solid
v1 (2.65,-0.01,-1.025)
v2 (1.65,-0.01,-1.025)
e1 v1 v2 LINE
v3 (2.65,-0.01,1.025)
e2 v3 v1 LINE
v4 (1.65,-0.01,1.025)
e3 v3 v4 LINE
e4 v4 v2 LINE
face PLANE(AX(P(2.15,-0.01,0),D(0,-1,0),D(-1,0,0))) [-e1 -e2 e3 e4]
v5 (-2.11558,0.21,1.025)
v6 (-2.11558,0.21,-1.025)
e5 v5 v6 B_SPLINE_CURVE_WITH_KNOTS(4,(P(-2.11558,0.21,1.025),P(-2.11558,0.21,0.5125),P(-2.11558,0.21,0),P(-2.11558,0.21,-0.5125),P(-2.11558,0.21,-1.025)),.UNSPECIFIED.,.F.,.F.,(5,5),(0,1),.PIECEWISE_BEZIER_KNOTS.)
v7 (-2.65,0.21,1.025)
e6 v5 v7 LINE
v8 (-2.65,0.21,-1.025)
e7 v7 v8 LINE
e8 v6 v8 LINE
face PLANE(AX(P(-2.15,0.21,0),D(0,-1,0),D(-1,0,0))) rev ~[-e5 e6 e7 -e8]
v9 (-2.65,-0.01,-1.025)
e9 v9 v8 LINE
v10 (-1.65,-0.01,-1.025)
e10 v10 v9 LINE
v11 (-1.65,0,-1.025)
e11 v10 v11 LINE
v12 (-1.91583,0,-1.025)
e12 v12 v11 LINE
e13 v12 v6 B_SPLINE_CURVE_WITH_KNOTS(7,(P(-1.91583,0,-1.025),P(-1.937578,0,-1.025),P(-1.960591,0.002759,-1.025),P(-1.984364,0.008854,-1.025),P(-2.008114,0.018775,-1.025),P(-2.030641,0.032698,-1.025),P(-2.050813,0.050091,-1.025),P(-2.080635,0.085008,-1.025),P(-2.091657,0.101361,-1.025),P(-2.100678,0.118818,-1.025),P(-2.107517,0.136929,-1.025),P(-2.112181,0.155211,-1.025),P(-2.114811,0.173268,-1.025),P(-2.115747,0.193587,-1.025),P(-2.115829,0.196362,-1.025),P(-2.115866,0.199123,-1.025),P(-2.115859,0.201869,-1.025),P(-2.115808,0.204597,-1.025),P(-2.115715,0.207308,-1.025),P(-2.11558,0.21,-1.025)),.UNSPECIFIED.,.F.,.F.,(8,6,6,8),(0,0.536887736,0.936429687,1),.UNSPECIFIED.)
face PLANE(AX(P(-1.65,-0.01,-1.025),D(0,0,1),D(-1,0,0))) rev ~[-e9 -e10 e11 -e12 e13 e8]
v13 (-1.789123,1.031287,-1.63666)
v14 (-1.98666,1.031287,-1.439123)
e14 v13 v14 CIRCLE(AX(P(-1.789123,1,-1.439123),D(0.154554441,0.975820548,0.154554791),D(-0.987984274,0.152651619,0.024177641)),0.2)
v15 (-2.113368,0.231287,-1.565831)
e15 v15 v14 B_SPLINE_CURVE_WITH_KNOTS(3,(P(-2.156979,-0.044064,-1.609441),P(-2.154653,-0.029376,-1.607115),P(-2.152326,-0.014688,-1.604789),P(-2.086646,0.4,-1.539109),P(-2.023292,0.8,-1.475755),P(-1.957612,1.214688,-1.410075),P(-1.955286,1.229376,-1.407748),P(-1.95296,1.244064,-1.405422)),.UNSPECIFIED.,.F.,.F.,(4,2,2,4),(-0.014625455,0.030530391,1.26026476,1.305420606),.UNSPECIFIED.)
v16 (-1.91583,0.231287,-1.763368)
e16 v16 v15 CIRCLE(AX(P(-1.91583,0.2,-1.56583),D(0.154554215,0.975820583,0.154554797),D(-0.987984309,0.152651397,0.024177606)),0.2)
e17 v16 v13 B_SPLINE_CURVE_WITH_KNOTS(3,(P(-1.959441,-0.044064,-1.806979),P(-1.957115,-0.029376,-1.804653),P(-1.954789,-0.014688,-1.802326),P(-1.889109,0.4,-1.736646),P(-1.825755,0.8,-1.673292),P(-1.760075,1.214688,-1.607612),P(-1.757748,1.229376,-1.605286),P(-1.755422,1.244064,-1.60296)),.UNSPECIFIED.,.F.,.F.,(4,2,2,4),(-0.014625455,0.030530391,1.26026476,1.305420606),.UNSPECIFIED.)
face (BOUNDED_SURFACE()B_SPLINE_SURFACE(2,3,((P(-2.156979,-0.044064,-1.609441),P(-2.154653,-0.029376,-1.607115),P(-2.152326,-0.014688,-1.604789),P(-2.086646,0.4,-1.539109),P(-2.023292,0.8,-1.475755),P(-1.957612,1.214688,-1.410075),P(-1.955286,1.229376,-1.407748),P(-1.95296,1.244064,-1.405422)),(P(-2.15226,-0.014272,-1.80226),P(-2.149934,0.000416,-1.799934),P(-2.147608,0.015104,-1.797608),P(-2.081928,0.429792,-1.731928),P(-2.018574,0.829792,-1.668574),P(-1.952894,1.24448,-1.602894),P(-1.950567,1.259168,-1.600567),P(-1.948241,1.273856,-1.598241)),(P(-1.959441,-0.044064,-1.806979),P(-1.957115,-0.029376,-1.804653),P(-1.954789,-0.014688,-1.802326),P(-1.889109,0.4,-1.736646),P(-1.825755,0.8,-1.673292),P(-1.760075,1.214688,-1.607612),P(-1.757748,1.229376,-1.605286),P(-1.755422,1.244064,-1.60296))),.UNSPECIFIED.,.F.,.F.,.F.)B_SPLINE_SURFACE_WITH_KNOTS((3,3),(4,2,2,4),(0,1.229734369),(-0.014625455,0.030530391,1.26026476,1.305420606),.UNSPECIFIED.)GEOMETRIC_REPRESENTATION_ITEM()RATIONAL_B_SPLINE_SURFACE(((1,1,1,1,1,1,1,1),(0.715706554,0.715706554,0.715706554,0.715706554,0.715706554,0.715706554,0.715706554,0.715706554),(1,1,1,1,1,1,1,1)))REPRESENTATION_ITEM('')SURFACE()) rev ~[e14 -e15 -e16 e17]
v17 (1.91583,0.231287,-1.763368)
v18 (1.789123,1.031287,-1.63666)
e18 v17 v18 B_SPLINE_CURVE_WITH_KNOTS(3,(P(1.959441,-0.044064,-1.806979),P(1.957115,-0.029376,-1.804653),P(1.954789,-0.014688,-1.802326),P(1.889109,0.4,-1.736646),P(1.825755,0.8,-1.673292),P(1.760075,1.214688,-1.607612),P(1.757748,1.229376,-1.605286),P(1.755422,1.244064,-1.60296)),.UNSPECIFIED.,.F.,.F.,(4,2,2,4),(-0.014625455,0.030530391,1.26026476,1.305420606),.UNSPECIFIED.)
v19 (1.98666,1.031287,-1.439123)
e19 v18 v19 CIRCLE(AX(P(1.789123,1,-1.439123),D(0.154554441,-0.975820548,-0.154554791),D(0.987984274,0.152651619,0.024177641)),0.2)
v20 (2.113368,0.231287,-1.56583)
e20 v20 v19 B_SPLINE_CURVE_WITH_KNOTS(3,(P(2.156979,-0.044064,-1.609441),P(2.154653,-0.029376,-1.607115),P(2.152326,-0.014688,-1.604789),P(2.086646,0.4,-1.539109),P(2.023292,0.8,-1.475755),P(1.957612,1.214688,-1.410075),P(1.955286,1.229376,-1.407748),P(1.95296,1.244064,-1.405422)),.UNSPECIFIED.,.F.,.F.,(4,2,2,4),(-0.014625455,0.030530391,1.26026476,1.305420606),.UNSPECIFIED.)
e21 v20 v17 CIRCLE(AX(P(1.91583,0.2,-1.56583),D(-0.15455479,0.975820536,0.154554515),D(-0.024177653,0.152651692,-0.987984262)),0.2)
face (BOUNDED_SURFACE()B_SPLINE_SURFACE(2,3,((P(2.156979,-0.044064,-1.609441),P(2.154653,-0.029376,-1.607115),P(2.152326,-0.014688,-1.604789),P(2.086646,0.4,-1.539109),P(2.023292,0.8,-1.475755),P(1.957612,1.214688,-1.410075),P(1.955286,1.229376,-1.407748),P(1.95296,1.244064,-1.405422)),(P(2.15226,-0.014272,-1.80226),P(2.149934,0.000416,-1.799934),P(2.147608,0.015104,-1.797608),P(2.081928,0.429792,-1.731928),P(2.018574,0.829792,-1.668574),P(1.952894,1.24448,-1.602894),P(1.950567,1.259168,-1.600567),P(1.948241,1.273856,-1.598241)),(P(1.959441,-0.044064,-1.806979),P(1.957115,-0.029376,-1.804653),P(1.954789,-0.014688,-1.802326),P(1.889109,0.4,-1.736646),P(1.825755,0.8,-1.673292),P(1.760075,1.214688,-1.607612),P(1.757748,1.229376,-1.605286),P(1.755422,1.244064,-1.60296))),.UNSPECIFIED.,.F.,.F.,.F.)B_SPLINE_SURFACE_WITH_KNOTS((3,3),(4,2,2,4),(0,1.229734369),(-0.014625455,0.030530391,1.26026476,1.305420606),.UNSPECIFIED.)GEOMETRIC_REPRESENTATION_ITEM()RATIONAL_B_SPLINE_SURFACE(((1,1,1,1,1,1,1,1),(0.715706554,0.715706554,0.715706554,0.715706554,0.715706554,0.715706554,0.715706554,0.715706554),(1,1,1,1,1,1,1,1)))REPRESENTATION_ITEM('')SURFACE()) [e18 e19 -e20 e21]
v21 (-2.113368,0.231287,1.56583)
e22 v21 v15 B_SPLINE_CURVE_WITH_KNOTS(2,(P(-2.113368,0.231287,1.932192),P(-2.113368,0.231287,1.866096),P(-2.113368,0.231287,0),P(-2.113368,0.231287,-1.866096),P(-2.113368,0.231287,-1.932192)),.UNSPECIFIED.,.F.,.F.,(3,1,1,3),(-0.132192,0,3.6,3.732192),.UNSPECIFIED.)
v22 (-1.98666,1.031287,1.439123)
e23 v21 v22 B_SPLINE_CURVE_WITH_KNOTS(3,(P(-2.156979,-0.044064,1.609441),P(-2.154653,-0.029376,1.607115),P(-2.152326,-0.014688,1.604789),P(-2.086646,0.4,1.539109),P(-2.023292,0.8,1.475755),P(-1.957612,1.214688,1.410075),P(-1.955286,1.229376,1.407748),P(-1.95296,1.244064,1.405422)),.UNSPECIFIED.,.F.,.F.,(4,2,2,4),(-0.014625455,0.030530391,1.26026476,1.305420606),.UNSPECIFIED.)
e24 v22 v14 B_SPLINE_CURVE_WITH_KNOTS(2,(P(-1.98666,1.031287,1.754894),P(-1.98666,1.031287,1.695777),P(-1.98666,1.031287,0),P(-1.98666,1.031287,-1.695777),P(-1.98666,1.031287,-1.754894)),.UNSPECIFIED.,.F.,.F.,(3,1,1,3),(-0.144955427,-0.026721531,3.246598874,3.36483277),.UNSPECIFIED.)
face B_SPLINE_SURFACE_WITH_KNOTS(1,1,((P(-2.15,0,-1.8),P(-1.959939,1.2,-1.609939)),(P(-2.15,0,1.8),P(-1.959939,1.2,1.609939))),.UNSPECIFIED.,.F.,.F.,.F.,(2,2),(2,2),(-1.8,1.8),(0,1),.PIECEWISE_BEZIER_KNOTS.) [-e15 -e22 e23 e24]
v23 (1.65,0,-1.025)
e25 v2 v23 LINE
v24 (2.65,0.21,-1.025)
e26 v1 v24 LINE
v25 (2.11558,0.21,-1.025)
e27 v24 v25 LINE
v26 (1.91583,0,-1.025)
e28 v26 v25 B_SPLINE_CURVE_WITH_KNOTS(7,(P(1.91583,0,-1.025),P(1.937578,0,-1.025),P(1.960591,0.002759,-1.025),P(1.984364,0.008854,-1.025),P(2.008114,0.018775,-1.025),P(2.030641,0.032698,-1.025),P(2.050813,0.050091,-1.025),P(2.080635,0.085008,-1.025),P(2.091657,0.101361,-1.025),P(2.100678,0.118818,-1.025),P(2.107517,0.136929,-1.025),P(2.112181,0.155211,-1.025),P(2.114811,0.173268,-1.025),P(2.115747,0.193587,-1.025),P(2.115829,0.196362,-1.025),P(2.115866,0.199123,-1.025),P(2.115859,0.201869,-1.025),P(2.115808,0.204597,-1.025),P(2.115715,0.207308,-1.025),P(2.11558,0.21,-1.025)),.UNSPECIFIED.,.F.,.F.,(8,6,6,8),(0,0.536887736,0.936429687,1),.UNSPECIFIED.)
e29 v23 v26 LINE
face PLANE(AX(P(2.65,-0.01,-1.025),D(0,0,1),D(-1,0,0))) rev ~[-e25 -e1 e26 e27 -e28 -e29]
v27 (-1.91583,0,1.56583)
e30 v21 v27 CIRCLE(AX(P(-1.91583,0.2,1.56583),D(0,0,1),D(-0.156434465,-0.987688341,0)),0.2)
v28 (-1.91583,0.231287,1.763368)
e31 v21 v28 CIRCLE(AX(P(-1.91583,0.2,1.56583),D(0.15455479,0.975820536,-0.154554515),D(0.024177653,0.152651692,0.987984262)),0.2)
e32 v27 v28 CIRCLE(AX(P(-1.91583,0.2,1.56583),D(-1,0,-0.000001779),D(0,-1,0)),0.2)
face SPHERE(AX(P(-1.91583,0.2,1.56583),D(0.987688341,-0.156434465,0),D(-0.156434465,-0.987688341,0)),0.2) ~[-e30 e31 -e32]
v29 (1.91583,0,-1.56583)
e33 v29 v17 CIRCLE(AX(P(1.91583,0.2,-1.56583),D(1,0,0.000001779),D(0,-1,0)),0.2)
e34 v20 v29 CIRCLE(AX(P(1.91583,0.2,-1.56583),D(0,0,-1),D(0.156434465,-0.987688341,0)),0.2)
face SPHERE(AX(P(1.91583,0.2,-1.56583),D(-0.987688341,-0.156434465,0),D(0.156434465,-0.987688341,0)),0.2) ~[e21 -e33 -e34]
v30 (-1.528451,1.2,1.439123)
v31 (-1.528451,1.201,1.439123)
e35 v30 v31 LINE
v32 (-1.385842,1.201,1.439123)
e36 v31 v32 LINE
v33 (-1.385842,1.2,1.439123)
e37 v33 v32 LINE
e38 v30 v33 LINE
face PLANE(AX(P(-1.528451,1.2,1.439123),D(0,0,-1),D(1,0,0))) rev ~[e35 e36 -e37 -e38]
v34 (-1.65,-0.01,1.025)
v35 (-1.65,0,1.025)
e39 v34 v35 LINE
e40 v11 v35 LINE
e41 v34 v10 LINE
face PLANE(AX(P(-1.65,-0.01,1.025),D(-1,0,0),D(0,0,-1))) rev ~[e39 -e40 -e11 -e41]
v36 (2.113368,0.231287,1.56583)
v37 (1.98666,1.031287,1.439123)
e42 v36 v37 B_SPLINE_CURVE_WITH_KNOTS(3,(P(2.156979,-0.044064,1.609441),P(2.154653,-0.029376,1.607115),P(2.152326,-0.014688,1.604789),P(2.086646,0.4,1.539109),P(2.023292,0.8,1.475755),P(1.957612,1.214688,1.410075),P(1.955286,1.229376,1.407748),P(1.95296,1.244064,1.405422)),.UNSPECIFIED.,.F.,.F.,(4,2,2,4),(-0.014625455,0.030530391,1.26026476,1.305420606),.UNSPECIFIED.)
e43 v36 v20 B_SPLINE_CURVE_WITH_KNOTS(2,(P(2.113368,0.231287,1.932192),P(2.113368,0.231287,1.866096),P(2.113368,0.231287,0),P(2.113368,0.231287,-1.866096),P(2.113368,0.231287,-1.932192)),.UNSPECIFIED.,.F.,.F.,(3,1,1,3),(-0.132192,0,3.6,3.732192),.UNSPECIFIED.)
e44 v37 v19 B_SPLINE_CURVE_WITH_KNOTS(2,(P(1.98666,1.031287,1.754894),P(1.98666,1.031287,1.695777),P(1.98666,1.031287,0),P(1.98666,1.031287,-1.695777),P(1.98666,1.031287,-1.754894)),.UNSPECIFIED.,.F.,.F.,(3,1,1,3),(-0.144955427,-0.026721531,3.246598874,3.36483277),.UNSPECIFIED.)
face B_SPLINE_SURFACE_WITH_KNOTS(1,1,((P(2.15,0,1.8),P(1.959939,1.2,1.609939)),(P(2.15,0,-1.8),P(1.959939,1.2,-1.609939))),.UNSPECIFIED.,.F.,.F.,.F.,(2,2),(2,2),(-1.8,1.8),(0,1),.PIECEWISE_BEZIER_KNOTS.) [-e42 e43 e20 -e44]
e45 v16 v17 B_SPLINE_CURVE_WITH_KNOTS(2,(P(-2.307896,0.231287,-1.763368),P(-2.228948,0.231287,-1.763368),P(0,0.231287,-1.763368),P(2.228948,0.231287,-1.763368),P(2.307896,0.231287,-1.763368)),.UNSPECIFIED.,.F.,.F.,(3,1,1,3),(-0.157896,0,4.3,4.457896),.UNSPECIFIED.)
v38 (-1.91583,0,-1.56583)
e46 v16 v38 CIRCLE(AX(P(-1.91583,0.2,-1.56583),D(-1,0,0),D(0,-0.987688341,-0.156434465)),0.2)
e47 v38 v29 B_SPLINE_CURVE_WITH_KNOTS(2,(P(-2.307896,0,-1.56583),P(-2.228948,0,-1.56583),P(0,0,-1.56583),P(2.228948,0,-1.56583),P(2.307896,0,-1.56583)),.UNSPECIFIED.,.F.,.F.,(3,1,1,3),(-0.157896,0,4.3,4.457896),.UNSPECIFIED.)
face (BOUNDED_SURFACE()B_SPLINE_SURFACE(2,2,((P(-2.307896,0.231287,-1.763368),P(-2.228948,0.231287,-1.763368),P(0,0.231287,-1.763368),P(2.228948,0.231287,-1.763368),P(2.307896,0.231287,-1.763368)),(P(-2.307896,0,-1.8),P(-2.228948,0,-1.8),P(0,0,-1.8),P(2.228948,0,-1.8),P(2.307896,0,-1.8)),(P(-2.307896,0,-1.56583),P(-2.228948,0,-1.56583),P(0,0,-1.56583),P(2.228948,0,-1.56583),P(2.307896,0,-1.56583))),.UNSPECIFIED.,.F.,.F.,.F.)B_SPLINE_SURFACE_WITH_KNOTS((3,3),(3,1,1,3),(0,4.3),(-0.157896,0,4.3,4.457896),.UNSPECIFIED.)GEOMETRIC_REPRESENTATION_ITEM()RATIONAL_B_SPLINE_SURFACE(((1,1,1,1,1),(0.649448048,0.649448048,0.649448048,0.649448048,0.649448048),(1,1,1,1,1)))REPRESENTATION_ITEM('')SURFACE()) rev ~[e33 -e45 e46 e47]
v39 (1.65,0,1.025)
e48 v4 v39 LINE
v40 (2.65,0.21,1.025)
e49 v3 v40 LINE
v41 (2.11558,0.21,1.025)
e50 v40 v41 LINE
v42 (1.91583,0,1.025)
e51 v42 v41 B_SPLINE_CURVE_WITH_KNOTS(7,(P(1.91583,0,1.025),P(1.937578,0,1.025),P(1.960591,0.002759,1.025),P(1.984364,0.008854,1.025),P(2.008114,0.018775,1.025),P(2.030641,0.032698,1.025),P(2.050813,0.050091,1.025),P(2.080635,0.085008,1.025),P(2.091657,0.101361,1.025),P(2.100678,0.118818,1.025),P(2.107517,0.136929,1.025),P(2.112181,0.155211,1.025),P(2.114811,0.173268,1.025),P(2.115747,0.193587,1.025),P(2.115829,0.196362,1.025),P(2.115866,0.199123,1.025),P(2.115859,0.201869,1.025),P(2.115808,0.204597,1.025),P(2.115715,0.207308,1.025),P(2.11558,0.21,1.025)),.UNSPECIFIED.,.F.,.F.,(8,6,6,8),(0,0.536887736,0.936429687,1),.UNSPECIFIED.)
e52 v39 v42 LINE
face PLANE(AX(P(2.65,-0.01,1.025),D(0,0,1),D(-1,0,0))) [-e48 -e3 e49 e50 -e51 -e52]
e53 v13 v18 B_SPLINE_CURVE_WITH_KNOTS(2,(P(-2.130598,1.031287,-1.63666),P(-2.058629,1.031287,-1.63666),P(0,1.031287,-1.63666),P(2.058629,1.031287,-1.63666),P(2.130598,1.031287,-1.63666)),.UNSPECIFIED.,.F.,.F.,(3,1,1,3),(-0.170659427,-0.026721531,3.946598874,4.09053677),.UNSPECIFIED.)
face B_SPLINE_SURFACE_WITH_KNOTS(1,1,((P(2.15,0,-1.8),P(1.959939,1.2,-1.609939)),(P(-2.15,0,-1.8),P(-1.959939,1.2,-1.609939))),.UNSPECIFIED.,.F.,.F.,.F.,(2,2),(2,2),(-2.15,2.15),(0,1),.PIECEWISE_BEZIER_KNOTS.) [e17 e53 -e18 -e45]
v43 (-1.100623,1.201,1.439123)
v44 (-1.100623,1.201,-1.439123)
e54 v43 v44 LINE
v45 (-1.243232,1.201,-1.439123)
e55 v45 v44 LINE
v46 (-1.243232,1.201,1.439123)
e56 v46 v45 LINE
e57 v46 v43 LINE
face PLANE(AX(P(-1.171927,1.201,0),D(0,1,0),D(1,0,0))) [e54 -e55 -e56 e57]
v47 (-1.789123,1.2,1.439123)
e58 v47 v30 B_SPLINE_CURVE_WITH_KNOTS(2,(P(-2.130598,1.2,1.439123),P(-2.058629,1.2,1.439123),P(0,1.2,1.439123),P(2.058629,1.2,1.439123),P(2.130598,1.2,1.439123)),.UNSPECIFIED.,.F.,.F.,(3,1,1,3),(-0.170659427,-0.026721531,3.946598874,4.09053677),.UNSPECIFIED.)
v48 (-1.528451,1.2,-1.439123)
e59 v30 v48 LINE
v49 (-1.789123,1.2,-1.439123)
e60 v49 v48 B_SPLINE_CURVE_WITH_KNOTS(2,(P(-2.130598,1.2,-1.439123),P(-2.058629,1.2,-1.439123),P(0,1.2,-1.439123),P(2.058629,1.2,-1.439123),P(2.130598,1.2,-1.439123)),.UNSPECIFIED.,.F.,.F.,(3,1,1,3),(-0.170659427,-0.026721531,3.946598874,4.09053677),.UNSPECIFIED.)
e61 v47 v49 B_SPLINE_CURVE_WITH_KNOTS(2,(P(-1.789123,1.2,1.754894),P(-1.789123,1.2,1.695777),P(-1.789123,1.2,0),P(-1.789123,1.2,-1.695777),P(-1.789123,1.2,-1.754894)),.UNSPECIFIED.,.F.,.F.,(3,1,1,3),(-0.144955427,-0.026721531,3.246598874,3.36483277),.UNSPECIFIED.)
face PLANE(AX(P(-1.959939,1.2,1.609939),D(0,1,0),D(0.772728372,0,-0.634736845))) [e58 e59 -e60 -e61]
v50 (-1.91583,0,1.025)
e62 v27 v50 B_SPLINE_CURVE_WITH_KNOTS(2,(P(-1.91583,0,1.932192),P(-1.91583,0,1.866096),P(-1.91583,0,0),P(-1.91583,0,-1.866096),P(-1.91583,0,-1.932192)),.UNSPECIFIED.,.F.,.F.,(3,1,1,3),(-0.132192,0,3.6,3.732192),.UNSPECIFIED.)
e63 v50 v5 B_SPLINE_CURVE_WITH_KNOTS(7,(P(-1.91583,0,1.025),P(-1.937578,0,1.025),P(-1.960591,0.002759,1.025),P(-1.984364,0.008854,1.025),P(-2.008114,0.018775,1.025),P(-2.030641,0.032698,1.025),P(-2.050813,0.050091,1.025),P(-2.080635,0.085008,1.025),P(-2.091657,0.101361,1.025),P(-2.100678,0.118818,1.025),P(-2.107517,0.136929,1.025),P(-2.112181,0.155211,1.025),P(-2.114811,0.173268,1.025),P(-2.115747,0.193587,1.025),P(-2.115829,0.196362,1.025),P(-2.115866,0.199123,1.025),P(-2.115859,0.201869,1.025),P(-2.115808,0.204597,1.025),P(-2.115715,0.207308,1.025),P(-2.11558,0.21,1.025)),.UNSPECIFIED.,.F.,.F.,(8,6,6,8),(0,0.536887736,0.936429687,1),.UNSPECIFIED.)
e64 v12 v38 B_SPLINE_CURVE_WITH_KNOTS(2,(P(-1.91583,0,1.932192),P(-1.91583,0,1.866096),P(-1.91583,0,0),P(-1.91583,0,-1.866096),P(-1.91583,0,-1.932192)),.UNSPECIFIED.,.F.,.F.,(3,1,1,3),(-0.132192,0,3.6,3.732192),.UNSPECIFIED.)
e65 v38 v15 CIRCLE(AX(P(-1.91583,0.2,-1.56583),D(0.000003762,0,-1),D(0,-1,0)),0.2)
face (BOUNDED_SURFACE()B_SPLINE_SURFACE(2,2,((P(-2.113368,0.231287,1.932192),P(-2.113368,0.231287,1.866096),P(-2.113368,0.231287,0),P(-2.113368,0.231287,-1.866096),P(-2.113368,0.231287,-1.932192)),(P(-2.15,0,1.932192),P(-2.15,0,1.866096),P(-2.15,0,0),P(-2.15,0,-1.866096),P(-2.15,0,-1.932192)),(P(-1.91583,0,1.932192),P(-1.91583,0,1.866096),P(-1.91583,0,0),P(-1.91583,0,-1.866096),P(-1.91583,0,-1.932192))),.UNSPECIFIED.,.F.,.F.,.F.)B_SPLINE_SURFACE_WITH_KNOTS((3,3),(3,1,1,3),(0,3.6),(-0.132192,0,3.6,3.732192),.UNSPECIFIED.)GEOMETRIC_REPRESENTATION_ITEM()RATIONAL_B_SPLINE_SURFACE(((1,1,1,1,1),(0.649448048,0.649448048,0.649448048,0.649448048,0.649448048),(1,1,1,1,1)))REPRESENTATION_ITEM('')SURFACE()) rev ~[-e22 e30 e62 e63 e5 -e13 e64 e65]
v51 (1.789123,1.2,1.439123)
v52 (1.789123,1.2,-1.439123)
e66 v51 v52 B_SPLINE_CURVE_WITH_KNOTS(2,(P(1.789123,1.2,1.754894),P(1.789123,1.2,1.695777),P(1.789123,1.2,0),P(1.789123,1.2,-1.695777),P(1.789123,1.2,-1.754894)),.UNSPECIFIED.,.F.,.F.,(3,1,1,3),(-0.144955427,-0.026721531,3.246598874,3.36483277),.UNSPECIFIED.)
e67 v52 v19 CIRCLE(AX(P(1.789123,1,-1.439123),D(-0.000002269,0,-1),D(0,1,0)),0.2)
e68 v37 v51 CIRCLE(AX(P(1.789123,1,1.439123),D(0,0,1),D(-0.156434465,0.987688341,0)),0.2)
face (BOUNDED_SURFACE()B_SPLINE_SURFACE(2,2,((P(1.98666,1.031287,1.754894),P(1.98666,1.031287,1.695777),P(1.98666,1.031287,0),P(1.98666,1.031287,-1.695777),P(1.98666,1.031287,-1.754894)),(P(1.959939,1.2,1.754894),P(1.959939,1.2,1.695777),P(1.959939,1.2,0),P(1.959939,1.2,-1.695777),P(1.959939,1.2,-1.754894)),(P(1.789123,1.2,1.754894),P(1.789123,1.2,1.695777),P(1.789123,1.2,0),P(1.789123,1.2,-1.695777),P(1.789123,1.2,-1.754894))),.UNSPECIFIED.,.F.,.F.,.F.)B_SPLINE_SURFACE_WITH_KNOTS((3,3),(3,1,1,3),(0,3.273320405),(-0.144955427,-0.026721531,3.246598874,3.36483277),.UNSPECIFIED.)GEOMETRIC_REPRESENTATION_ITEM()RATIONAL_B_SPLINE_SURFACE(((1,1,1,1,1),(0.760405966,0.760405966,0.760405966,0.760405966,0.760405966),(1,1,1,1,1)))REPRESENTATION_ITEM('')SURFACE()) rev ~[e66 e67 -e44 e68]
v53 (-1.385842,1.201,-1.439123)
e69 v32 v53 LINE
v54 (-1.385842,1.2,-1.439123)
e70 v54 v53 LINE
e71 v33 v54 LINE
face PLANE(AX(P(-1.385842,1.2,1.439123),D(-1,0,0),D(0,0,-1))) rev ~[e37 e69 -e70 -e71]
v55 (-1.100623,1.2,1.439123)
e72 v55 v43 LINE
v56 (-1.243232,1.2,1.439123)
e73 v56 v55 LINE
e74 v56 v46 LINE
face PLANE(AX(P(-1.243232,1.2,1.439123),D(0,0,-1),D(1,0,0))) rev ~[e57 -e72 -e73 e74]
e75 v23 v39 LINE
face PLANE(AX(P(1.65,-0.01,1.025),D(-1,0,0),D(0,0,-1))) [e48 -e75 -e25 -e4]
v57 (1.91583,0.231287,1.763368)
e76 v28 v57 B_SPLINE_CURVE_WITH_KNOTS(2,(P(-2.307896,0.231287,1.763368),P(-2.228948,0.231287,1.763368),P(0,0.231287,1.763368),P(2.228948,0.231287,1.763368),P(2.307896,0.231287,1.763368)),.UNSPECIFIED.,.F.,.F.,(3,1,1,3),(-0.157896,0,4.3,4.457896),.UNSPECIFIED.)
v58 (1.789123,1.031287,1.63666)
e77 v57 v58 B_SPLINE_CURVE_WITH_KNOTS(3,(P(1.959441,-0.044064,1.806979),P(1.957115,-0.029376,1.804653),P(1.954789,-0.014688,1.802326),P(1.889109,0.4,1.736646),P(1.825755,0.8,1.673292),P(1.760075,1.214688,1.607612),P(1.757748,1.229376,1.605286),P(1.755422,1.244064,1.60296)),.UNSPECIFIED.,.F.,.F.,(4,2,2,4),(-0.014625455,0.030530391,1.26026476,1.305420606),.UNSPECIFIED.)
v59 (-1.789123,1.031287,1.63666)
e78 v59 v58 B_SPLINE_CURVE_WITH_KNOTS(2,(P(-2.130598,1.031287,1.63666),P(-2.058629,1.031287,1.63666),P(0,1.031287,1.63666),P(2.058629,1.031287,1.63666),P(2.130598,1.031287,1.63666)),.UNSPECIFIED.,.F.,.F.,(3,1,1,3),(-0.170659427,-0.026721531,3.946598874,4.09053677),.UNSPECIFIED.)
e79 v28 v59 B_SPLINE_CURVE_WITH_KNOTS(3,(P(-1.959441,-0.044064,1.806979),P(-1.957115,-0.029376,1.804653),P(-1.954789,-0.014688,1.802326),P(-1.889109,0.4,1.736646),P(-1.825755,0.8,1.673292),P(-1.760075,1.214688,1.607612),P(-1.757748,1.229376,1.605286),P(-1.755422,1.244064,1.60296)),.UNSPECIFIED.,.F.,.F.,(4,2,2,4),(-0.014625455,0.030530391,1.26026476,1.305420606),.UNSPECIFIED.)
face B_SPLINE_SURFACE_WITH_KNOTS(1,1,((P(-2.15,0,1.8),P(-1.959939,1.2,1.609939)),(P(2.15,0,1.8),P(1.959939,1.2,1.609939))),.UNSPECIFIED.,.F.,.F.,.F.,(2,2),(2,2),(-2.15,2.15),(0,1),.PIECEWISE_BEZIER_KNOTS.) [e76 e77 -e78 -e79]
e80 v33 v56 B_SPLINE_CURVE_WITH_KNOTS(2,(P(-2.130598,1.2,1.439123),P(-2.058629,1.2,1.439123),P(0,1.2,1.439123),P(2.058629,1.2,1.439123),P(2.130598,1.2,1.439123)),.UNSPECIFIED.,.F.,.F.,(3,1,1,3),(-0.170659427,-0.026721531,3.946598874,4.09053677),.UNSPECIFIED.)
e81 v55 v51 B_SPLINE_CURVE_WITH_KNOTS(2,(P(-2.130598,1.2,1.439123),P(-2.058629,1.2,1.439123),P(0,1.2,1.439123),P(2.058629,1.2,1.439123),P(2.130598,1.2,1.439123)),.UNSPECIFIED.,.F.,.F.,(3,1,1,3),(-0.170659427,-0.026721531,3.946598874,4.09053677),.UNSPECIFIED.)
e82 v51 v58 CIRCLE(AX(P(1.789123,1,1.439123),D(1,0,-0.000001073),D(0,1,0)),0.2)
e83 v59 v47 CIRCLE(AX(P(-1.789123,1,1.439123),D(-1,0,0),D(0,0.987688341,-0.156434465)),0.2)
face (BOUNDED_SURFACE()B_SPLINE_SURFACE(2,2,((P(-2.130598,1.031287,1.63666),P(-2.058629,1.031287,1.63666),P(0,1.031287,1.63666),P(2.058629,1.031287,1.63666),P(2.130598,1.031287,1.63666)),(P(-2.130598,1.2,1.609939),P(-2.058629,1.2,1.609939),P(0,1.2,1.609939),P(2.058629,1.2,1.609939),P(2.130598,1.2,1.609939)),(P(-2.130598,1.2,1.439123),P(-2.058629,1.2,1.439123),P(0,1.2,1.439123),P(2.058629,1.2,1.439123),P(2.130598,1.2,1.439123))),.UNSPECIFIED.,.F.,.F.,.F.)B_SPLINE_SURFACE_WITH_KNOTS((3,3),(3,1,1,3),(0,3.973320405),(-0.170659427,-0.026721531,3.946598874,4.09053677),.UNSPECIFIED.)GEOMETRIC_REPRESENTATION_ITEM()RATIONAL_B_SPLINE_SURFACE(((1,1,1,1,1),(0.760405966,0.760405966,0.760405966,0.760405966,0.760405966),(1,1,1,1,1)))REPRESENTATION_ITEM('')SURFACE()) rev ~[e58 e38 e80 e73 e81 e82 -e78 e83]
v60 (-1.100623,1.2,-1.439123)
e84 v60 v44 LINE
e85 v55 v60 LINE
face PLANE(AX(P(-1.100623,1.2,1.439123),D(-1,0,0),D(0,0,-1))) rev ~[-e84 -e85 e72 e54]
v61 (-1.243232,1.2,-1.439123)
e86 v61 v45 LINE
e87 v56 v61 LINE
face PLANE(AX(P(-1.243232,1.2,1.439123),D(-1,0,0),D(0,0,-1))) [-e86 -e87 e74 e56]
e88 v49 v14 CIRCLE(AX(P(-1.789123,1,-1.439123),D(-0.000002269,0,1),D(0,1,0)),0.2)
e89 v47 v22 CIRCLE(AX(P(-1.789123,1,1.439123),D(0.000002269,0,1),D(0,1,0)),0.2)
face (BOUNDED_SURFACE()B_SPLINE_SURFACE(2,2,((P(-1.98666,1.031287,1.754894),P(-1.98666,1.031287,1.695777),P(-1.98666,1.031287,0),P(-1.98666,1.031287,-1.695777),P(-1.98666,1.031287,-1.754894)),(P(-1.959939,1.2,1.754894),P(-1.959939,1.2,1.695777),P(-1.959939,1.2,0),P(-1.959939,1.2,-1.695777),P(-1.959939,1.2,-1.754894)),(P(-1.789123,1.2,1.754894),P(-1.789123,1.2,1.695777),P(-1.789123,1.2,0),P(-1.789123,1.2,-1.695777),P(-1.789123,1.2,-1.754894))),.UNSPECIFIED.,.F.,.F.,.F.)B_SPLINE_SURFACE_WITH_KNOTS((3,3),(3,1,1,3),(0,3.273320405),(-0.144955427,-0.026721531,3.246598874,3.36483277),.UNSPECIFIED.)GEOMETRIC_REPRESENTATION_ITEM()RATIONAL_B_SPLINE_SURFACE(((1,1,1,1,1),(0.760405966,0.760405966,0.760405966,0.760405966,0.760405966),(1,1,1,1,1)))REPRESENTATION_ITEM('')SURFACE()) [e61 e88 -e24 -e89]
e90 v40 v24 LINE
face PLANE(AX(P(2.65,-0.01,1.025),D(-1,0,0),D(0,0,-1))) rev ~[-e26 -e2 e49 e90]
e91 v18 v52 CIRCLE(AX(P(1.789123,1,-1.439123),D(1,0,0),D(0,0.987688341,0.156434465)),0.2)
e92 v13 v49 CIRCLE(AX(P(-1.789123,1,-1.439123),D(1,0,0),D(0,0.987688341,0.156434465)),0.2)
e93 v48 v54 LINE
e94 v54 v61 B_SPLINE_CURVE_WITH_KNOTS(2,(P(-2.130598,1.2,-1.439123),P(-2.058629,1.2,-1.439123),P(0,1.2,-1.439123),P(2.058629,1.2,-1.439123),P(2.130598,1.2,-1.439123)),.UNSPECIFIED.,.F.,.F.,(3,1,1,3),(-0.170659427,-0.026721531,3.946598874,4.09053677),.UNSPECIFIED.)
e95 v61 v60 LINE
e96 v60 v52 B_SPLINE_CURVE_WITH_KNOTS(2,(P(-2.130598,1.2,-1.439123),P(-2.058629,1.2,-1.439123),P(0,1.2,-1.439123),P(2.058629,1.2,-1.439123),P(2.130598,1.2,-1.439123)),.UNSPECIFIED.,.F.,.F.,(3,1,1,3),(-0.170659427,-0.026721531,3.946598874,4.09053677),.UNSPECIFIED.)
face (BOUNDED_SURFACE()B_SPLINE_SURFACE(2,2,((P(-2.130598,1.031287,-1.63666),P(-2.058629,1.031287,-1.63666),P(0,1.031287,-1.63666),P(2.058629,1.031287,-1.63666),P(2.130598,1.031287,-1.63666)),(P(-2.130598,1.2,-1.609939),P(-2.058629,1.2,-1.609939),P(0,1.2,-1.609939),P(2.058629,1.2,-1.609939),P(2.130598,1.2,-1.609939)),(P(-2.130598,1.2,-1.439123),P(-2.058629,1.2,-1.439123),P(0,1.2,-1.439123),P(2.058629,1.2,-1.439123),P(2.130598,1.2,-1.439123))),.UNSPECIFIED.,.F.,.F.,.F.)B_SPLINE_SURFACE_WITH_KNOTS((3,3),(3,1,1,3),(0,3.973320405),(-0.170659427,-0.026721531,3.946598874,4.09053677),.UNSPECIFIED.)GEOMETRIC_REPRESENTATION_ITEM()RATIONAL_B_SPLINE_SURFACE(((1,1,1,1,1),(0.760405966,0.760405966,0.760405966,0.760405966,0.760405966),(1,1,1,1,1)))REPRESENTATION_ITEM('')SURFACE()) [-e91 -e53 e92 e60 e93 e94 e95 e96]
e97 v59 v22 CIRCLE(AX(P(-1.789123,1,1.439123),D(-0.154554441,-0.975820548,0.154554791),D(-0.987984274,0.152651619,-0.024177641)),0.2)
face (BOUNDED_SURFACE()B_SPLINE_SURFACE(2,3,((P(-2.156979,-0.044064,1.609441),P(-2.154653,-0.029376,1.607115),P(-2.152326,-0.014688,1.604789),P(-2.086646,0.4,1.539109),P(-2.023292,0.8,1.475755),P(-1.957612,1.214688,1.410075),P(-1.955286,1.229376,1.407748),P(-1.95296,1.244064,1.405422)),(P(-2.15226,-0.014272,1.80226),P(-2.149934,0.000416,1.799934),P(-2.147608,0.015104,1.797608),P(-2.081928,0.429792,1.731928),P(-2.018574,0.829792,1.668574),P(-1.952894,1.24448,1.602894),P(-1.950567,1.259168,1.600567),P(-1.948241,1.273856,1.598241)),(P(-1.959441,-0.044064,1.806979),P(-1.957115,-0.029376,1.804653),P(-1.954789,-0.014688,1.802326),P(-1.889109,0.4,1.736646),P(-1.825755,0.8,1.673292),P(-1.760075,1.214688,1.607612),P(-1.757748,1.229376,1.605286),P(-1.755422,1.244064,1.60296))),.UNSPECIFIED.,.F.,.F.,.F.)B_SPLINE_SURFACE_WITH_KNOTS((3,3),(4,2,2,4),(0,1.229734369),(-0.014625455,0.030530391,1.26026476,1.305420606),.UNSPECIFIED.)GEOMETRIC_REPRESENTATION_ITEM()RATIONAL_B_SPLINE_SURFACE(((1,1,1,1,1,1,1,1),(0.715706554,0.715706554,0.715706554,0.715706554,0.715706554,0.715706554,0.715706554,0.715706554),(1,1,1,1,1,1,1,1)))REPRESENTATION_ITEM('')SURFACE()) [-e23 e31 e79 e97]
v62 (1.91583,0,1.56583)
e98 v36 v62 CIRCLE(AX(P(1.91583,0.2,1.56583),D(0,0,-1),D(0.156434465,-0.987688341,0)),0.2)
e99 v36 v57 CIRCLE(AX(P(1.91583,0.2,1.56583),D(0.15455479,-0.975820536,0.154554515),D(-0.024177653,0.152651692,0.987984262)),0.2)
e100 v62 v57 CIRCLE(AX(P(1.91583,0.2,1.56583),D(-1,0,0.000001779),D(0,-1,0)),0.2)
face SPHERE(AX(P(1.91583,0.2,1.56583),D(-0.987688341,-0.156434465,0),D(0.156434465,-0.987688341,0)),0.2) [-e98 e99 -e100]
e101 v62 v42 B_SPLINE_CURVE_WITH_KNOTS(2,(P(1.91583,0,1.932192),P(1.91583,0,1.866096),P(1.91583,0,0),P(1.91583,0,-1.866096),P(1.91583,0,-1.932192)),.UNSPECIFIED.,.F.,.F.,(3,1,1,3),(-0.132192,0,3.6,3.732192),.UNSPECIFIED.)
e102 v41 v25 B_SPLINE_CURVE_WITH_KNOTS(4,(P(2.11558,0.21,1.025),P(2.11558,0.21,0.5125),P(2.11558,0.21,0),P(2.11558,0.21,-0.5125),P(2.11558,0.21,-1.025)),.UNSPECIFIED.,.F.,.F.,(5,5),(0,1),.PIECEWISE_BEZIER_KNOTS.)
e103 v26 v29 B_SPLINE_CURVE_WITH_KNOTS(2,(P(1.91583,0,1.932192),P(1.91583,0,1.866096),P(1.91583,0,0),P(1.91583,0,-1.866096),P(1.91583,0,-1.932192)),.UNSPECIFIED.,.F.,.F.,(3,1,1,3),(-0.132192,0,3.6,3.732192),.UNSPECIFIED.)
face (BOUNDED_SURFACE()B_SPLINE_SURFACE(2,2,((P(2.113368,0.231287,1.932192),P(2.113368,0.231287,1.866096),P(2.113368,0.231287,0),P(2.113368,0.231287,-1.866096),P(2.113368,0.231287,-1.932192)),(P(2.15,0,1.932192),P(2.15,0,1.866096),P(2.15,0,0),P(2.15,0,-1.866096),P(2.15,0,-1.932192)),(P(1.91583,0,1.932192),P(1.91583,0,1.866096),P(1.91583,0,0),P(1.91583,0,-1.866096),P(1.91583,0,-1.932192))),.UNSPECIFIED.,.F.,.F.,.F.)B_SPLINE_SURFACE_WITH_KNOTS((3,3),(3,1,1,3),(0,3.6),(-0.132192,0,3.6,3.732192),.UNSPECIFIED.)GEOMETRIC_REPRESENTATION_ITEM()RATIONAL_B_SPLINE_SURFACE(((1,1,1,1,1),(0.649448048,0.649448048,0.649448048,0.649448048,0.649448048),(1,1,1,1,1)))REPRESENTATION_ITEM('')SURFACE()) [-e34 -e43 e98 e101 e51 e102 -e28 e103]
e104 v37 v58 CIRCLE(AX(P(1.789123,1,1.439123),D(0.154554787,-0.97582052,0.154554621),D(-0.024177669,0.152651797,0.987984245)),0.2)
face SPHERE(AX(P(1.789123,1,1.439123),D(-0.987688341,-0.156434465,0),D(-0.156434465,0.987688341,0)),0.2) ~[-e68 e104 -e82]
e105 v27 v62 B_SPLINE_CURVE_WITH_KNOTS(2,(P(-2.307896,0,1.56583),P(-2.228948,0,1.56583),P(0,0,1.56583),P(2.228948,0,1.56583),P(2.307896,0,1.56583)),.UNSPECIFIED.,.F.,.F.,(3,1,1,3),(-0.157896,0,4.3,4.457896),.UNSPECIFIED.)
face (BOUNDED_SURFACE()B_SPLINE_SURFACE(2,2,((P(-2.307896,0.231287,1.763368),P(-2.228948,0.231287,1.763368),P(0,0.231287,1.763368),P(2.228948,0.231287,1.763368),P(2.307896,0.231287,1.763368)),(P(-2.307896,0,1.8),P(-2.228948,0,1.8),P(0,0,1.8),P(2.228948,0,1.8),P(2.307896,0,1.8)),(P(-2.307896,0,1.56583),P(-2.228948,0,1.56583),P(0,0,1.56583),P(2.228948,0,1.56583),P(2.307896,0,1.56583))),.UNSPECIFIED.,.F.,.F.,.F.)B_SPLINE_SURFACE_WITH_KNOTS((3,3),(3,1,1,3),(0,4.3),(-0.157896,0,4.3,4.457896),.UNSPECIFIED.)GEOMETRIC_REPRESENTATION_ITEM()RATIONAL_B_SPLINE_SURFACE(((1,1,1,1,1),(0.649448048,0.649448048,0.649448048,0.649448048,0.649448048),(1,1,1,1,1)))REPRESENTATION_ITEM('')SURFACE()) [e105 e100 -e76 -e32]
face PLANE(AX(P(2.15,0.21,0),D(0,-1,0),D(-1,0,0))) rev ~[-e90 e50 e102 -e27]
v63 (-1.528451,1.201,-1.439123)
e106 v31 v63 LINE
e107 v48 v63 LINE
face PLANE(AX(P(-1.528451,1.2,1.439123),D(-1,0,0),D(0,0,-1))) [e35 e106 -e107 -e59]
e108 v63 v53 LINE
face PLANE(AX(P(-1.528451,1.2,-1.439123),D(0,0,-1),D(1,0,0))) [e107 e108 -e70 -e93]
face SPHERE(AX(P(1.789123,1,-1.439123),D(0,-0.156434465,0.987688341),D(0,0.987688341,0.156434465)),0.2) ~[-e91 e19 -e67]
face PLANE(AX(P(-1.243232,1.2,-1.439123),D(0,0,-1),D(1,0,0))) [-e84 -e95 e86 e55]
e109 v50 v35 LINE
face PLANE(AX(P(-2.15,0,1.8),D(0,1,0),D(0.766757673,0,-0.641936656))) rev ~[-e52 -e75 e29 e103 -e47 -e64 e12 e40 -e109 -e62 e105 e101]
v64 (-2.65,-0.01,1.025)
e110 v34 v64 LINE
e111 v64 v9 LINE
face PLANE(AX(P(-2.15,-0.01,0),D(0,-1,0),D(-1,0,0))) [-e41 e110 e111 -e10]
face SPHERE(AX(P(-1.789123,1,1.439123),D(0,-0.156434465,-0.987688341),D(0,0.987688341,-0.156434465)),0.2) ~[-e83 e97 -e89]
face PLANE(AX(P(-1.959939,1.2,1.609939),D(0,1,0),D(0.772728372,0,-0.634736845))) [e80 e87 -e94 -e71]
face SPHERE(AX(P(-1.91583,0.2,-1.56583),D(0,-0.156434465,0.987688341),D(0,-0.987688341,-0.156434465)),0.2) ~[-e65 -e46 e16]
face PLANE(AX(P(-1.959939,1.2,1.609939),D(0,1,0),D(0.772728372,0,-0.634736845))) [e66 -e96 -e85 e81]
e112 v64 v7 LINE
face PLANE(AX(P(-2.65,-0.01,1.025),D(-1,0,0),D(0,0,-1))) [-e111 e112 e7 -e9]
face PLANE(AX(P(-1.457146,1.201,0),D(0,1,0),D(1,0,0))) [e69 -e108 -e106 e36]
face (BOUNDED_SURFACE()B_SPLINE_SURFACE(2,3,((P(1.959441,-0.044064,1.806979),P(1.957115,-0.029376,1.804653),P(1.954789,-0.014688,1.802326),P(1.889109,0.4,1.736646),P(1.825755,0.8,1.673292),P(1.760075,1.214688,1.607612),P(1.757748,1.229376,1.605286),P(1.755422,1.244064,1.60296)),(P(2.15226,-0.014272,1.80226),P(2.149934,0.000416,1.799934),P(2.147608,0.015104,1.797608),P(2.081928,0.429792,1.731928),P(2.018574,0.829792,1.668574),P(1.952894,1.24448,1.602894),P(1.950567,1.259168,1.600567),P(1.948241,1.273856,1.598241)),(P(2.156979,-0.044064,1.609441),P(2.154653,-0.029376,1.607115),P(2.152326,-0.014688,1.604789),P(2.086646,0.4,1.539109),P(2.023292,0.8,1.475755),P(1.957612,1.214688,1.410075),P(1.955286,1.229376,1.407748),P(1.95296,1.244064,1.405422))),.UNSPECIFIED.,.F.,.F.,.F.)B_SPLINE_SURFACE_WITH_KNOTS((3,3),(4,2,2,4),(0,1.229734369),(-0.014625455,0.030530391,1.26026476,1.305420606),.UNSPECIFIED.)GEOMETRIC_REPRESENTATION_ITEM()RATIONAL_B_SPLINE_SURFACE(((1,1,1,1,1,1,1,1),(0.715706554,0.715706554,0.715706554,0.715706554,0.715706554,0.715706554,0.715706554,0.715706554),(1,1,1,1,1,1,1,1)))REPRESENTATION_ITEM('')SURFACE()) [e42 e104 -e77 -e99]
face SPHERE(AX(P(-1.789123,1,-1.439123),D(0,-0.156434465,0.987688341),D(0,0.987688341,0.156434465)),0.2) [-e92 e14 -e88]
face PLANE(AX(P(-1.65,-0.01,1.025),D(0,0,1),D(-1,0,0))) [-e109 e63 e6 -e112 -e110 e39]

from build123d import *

# Parameters (mm, degrees)
SKETCH1_W           = 4.3
SKETCH1_H           = 3.6
BOSS_EXTRUDE1_DEPTH = 1.2
BOSS_EXTRUDE1_TAPER = 9
FILLET1_R           = 0.2
SKETCH3_W           = 1
SKETCH3_H           = 2.05
BOSS_EXTRUDE2_DEPTH = 0.22
SKETCH4_W           = 0.142609486
SKETCH4_H           = 2.87824507
SKETCH4_W_2         = 0.142609485
BOSS_EXTRUDE3_DEPTH = 0.001


with BuildPart() as part:
    # Sketch1 → Boss-Extrude1 (new body)
    with BuildSketch(Plane(origin=(0, 0, 0), x_dir=(1, 0, 0), z_dir=(0, 1, 0))):
        Rectangle(SKETCH1_W, SKETCH1_H)
    extrude(amount=BOSS_EXTRUDE1_DEPTH, taper=BOSS_EXTRUDE1_TAPER)

    # Fillet1
    fillet1_edges = [part.edges().sort_by_distance(p)[0] for p in [
        (-1.959938672, 1.2, 0),
        (0, 1.2, 1.609938672),
        (1.959938672, 1.2, 0),
        (0, 0, 1.8),
        (-2.15, 0, 0),
        (0, 0, -1.8),
        (2.15, 0, 0),
        (0, 1.2, -1.609938672),
        (2.054969336, 0.6, 1.704969336),
        (-2.054969336, 0.6, 1.704969336),
        (-2.054969336, 0.6, -1.704969336),
        (2.054969336, 0.6, -1.704969336),
    ]]
    fillet(fillet1_edges, radius=FILLET1_R)

    # Sketch3 → Boss-Extrude2 (add)
    with BuildSketch(Plane(origin=(0, -0.01, 0), x_dir=(-1, 0, 0), z_dir=(0, -1, 0))):
        with Locations((2.15, 0)):
            Rectangle(SKETCH3_W, SKETCH3_H)
        with Locations((-2.15, 0)):
            Rectangle(SKETCH3_W, SKETCH3_H)
    extrude(amount=-BOSS_EXTRUDE2_DEPTH)

    # Sketch4 → Boss-Extrude3 (add)
    with BuildSketch(Plane(origin=(0, 1.2, 0), x_dir=(1, 0, 0), z_dir=(0, 1, 0))):
        with Locations((-1.457146389, 0)):
            Rectangle(SKETCH4_W, SKETCH4_H)
        with Locations((-1.171927419, 0)):
            Rectangle(SKETCH4_W_2, SKETCH4_H)
    extrude(amount=BOSS_EXTRUDE3_DEPTH)


solid = part.part
